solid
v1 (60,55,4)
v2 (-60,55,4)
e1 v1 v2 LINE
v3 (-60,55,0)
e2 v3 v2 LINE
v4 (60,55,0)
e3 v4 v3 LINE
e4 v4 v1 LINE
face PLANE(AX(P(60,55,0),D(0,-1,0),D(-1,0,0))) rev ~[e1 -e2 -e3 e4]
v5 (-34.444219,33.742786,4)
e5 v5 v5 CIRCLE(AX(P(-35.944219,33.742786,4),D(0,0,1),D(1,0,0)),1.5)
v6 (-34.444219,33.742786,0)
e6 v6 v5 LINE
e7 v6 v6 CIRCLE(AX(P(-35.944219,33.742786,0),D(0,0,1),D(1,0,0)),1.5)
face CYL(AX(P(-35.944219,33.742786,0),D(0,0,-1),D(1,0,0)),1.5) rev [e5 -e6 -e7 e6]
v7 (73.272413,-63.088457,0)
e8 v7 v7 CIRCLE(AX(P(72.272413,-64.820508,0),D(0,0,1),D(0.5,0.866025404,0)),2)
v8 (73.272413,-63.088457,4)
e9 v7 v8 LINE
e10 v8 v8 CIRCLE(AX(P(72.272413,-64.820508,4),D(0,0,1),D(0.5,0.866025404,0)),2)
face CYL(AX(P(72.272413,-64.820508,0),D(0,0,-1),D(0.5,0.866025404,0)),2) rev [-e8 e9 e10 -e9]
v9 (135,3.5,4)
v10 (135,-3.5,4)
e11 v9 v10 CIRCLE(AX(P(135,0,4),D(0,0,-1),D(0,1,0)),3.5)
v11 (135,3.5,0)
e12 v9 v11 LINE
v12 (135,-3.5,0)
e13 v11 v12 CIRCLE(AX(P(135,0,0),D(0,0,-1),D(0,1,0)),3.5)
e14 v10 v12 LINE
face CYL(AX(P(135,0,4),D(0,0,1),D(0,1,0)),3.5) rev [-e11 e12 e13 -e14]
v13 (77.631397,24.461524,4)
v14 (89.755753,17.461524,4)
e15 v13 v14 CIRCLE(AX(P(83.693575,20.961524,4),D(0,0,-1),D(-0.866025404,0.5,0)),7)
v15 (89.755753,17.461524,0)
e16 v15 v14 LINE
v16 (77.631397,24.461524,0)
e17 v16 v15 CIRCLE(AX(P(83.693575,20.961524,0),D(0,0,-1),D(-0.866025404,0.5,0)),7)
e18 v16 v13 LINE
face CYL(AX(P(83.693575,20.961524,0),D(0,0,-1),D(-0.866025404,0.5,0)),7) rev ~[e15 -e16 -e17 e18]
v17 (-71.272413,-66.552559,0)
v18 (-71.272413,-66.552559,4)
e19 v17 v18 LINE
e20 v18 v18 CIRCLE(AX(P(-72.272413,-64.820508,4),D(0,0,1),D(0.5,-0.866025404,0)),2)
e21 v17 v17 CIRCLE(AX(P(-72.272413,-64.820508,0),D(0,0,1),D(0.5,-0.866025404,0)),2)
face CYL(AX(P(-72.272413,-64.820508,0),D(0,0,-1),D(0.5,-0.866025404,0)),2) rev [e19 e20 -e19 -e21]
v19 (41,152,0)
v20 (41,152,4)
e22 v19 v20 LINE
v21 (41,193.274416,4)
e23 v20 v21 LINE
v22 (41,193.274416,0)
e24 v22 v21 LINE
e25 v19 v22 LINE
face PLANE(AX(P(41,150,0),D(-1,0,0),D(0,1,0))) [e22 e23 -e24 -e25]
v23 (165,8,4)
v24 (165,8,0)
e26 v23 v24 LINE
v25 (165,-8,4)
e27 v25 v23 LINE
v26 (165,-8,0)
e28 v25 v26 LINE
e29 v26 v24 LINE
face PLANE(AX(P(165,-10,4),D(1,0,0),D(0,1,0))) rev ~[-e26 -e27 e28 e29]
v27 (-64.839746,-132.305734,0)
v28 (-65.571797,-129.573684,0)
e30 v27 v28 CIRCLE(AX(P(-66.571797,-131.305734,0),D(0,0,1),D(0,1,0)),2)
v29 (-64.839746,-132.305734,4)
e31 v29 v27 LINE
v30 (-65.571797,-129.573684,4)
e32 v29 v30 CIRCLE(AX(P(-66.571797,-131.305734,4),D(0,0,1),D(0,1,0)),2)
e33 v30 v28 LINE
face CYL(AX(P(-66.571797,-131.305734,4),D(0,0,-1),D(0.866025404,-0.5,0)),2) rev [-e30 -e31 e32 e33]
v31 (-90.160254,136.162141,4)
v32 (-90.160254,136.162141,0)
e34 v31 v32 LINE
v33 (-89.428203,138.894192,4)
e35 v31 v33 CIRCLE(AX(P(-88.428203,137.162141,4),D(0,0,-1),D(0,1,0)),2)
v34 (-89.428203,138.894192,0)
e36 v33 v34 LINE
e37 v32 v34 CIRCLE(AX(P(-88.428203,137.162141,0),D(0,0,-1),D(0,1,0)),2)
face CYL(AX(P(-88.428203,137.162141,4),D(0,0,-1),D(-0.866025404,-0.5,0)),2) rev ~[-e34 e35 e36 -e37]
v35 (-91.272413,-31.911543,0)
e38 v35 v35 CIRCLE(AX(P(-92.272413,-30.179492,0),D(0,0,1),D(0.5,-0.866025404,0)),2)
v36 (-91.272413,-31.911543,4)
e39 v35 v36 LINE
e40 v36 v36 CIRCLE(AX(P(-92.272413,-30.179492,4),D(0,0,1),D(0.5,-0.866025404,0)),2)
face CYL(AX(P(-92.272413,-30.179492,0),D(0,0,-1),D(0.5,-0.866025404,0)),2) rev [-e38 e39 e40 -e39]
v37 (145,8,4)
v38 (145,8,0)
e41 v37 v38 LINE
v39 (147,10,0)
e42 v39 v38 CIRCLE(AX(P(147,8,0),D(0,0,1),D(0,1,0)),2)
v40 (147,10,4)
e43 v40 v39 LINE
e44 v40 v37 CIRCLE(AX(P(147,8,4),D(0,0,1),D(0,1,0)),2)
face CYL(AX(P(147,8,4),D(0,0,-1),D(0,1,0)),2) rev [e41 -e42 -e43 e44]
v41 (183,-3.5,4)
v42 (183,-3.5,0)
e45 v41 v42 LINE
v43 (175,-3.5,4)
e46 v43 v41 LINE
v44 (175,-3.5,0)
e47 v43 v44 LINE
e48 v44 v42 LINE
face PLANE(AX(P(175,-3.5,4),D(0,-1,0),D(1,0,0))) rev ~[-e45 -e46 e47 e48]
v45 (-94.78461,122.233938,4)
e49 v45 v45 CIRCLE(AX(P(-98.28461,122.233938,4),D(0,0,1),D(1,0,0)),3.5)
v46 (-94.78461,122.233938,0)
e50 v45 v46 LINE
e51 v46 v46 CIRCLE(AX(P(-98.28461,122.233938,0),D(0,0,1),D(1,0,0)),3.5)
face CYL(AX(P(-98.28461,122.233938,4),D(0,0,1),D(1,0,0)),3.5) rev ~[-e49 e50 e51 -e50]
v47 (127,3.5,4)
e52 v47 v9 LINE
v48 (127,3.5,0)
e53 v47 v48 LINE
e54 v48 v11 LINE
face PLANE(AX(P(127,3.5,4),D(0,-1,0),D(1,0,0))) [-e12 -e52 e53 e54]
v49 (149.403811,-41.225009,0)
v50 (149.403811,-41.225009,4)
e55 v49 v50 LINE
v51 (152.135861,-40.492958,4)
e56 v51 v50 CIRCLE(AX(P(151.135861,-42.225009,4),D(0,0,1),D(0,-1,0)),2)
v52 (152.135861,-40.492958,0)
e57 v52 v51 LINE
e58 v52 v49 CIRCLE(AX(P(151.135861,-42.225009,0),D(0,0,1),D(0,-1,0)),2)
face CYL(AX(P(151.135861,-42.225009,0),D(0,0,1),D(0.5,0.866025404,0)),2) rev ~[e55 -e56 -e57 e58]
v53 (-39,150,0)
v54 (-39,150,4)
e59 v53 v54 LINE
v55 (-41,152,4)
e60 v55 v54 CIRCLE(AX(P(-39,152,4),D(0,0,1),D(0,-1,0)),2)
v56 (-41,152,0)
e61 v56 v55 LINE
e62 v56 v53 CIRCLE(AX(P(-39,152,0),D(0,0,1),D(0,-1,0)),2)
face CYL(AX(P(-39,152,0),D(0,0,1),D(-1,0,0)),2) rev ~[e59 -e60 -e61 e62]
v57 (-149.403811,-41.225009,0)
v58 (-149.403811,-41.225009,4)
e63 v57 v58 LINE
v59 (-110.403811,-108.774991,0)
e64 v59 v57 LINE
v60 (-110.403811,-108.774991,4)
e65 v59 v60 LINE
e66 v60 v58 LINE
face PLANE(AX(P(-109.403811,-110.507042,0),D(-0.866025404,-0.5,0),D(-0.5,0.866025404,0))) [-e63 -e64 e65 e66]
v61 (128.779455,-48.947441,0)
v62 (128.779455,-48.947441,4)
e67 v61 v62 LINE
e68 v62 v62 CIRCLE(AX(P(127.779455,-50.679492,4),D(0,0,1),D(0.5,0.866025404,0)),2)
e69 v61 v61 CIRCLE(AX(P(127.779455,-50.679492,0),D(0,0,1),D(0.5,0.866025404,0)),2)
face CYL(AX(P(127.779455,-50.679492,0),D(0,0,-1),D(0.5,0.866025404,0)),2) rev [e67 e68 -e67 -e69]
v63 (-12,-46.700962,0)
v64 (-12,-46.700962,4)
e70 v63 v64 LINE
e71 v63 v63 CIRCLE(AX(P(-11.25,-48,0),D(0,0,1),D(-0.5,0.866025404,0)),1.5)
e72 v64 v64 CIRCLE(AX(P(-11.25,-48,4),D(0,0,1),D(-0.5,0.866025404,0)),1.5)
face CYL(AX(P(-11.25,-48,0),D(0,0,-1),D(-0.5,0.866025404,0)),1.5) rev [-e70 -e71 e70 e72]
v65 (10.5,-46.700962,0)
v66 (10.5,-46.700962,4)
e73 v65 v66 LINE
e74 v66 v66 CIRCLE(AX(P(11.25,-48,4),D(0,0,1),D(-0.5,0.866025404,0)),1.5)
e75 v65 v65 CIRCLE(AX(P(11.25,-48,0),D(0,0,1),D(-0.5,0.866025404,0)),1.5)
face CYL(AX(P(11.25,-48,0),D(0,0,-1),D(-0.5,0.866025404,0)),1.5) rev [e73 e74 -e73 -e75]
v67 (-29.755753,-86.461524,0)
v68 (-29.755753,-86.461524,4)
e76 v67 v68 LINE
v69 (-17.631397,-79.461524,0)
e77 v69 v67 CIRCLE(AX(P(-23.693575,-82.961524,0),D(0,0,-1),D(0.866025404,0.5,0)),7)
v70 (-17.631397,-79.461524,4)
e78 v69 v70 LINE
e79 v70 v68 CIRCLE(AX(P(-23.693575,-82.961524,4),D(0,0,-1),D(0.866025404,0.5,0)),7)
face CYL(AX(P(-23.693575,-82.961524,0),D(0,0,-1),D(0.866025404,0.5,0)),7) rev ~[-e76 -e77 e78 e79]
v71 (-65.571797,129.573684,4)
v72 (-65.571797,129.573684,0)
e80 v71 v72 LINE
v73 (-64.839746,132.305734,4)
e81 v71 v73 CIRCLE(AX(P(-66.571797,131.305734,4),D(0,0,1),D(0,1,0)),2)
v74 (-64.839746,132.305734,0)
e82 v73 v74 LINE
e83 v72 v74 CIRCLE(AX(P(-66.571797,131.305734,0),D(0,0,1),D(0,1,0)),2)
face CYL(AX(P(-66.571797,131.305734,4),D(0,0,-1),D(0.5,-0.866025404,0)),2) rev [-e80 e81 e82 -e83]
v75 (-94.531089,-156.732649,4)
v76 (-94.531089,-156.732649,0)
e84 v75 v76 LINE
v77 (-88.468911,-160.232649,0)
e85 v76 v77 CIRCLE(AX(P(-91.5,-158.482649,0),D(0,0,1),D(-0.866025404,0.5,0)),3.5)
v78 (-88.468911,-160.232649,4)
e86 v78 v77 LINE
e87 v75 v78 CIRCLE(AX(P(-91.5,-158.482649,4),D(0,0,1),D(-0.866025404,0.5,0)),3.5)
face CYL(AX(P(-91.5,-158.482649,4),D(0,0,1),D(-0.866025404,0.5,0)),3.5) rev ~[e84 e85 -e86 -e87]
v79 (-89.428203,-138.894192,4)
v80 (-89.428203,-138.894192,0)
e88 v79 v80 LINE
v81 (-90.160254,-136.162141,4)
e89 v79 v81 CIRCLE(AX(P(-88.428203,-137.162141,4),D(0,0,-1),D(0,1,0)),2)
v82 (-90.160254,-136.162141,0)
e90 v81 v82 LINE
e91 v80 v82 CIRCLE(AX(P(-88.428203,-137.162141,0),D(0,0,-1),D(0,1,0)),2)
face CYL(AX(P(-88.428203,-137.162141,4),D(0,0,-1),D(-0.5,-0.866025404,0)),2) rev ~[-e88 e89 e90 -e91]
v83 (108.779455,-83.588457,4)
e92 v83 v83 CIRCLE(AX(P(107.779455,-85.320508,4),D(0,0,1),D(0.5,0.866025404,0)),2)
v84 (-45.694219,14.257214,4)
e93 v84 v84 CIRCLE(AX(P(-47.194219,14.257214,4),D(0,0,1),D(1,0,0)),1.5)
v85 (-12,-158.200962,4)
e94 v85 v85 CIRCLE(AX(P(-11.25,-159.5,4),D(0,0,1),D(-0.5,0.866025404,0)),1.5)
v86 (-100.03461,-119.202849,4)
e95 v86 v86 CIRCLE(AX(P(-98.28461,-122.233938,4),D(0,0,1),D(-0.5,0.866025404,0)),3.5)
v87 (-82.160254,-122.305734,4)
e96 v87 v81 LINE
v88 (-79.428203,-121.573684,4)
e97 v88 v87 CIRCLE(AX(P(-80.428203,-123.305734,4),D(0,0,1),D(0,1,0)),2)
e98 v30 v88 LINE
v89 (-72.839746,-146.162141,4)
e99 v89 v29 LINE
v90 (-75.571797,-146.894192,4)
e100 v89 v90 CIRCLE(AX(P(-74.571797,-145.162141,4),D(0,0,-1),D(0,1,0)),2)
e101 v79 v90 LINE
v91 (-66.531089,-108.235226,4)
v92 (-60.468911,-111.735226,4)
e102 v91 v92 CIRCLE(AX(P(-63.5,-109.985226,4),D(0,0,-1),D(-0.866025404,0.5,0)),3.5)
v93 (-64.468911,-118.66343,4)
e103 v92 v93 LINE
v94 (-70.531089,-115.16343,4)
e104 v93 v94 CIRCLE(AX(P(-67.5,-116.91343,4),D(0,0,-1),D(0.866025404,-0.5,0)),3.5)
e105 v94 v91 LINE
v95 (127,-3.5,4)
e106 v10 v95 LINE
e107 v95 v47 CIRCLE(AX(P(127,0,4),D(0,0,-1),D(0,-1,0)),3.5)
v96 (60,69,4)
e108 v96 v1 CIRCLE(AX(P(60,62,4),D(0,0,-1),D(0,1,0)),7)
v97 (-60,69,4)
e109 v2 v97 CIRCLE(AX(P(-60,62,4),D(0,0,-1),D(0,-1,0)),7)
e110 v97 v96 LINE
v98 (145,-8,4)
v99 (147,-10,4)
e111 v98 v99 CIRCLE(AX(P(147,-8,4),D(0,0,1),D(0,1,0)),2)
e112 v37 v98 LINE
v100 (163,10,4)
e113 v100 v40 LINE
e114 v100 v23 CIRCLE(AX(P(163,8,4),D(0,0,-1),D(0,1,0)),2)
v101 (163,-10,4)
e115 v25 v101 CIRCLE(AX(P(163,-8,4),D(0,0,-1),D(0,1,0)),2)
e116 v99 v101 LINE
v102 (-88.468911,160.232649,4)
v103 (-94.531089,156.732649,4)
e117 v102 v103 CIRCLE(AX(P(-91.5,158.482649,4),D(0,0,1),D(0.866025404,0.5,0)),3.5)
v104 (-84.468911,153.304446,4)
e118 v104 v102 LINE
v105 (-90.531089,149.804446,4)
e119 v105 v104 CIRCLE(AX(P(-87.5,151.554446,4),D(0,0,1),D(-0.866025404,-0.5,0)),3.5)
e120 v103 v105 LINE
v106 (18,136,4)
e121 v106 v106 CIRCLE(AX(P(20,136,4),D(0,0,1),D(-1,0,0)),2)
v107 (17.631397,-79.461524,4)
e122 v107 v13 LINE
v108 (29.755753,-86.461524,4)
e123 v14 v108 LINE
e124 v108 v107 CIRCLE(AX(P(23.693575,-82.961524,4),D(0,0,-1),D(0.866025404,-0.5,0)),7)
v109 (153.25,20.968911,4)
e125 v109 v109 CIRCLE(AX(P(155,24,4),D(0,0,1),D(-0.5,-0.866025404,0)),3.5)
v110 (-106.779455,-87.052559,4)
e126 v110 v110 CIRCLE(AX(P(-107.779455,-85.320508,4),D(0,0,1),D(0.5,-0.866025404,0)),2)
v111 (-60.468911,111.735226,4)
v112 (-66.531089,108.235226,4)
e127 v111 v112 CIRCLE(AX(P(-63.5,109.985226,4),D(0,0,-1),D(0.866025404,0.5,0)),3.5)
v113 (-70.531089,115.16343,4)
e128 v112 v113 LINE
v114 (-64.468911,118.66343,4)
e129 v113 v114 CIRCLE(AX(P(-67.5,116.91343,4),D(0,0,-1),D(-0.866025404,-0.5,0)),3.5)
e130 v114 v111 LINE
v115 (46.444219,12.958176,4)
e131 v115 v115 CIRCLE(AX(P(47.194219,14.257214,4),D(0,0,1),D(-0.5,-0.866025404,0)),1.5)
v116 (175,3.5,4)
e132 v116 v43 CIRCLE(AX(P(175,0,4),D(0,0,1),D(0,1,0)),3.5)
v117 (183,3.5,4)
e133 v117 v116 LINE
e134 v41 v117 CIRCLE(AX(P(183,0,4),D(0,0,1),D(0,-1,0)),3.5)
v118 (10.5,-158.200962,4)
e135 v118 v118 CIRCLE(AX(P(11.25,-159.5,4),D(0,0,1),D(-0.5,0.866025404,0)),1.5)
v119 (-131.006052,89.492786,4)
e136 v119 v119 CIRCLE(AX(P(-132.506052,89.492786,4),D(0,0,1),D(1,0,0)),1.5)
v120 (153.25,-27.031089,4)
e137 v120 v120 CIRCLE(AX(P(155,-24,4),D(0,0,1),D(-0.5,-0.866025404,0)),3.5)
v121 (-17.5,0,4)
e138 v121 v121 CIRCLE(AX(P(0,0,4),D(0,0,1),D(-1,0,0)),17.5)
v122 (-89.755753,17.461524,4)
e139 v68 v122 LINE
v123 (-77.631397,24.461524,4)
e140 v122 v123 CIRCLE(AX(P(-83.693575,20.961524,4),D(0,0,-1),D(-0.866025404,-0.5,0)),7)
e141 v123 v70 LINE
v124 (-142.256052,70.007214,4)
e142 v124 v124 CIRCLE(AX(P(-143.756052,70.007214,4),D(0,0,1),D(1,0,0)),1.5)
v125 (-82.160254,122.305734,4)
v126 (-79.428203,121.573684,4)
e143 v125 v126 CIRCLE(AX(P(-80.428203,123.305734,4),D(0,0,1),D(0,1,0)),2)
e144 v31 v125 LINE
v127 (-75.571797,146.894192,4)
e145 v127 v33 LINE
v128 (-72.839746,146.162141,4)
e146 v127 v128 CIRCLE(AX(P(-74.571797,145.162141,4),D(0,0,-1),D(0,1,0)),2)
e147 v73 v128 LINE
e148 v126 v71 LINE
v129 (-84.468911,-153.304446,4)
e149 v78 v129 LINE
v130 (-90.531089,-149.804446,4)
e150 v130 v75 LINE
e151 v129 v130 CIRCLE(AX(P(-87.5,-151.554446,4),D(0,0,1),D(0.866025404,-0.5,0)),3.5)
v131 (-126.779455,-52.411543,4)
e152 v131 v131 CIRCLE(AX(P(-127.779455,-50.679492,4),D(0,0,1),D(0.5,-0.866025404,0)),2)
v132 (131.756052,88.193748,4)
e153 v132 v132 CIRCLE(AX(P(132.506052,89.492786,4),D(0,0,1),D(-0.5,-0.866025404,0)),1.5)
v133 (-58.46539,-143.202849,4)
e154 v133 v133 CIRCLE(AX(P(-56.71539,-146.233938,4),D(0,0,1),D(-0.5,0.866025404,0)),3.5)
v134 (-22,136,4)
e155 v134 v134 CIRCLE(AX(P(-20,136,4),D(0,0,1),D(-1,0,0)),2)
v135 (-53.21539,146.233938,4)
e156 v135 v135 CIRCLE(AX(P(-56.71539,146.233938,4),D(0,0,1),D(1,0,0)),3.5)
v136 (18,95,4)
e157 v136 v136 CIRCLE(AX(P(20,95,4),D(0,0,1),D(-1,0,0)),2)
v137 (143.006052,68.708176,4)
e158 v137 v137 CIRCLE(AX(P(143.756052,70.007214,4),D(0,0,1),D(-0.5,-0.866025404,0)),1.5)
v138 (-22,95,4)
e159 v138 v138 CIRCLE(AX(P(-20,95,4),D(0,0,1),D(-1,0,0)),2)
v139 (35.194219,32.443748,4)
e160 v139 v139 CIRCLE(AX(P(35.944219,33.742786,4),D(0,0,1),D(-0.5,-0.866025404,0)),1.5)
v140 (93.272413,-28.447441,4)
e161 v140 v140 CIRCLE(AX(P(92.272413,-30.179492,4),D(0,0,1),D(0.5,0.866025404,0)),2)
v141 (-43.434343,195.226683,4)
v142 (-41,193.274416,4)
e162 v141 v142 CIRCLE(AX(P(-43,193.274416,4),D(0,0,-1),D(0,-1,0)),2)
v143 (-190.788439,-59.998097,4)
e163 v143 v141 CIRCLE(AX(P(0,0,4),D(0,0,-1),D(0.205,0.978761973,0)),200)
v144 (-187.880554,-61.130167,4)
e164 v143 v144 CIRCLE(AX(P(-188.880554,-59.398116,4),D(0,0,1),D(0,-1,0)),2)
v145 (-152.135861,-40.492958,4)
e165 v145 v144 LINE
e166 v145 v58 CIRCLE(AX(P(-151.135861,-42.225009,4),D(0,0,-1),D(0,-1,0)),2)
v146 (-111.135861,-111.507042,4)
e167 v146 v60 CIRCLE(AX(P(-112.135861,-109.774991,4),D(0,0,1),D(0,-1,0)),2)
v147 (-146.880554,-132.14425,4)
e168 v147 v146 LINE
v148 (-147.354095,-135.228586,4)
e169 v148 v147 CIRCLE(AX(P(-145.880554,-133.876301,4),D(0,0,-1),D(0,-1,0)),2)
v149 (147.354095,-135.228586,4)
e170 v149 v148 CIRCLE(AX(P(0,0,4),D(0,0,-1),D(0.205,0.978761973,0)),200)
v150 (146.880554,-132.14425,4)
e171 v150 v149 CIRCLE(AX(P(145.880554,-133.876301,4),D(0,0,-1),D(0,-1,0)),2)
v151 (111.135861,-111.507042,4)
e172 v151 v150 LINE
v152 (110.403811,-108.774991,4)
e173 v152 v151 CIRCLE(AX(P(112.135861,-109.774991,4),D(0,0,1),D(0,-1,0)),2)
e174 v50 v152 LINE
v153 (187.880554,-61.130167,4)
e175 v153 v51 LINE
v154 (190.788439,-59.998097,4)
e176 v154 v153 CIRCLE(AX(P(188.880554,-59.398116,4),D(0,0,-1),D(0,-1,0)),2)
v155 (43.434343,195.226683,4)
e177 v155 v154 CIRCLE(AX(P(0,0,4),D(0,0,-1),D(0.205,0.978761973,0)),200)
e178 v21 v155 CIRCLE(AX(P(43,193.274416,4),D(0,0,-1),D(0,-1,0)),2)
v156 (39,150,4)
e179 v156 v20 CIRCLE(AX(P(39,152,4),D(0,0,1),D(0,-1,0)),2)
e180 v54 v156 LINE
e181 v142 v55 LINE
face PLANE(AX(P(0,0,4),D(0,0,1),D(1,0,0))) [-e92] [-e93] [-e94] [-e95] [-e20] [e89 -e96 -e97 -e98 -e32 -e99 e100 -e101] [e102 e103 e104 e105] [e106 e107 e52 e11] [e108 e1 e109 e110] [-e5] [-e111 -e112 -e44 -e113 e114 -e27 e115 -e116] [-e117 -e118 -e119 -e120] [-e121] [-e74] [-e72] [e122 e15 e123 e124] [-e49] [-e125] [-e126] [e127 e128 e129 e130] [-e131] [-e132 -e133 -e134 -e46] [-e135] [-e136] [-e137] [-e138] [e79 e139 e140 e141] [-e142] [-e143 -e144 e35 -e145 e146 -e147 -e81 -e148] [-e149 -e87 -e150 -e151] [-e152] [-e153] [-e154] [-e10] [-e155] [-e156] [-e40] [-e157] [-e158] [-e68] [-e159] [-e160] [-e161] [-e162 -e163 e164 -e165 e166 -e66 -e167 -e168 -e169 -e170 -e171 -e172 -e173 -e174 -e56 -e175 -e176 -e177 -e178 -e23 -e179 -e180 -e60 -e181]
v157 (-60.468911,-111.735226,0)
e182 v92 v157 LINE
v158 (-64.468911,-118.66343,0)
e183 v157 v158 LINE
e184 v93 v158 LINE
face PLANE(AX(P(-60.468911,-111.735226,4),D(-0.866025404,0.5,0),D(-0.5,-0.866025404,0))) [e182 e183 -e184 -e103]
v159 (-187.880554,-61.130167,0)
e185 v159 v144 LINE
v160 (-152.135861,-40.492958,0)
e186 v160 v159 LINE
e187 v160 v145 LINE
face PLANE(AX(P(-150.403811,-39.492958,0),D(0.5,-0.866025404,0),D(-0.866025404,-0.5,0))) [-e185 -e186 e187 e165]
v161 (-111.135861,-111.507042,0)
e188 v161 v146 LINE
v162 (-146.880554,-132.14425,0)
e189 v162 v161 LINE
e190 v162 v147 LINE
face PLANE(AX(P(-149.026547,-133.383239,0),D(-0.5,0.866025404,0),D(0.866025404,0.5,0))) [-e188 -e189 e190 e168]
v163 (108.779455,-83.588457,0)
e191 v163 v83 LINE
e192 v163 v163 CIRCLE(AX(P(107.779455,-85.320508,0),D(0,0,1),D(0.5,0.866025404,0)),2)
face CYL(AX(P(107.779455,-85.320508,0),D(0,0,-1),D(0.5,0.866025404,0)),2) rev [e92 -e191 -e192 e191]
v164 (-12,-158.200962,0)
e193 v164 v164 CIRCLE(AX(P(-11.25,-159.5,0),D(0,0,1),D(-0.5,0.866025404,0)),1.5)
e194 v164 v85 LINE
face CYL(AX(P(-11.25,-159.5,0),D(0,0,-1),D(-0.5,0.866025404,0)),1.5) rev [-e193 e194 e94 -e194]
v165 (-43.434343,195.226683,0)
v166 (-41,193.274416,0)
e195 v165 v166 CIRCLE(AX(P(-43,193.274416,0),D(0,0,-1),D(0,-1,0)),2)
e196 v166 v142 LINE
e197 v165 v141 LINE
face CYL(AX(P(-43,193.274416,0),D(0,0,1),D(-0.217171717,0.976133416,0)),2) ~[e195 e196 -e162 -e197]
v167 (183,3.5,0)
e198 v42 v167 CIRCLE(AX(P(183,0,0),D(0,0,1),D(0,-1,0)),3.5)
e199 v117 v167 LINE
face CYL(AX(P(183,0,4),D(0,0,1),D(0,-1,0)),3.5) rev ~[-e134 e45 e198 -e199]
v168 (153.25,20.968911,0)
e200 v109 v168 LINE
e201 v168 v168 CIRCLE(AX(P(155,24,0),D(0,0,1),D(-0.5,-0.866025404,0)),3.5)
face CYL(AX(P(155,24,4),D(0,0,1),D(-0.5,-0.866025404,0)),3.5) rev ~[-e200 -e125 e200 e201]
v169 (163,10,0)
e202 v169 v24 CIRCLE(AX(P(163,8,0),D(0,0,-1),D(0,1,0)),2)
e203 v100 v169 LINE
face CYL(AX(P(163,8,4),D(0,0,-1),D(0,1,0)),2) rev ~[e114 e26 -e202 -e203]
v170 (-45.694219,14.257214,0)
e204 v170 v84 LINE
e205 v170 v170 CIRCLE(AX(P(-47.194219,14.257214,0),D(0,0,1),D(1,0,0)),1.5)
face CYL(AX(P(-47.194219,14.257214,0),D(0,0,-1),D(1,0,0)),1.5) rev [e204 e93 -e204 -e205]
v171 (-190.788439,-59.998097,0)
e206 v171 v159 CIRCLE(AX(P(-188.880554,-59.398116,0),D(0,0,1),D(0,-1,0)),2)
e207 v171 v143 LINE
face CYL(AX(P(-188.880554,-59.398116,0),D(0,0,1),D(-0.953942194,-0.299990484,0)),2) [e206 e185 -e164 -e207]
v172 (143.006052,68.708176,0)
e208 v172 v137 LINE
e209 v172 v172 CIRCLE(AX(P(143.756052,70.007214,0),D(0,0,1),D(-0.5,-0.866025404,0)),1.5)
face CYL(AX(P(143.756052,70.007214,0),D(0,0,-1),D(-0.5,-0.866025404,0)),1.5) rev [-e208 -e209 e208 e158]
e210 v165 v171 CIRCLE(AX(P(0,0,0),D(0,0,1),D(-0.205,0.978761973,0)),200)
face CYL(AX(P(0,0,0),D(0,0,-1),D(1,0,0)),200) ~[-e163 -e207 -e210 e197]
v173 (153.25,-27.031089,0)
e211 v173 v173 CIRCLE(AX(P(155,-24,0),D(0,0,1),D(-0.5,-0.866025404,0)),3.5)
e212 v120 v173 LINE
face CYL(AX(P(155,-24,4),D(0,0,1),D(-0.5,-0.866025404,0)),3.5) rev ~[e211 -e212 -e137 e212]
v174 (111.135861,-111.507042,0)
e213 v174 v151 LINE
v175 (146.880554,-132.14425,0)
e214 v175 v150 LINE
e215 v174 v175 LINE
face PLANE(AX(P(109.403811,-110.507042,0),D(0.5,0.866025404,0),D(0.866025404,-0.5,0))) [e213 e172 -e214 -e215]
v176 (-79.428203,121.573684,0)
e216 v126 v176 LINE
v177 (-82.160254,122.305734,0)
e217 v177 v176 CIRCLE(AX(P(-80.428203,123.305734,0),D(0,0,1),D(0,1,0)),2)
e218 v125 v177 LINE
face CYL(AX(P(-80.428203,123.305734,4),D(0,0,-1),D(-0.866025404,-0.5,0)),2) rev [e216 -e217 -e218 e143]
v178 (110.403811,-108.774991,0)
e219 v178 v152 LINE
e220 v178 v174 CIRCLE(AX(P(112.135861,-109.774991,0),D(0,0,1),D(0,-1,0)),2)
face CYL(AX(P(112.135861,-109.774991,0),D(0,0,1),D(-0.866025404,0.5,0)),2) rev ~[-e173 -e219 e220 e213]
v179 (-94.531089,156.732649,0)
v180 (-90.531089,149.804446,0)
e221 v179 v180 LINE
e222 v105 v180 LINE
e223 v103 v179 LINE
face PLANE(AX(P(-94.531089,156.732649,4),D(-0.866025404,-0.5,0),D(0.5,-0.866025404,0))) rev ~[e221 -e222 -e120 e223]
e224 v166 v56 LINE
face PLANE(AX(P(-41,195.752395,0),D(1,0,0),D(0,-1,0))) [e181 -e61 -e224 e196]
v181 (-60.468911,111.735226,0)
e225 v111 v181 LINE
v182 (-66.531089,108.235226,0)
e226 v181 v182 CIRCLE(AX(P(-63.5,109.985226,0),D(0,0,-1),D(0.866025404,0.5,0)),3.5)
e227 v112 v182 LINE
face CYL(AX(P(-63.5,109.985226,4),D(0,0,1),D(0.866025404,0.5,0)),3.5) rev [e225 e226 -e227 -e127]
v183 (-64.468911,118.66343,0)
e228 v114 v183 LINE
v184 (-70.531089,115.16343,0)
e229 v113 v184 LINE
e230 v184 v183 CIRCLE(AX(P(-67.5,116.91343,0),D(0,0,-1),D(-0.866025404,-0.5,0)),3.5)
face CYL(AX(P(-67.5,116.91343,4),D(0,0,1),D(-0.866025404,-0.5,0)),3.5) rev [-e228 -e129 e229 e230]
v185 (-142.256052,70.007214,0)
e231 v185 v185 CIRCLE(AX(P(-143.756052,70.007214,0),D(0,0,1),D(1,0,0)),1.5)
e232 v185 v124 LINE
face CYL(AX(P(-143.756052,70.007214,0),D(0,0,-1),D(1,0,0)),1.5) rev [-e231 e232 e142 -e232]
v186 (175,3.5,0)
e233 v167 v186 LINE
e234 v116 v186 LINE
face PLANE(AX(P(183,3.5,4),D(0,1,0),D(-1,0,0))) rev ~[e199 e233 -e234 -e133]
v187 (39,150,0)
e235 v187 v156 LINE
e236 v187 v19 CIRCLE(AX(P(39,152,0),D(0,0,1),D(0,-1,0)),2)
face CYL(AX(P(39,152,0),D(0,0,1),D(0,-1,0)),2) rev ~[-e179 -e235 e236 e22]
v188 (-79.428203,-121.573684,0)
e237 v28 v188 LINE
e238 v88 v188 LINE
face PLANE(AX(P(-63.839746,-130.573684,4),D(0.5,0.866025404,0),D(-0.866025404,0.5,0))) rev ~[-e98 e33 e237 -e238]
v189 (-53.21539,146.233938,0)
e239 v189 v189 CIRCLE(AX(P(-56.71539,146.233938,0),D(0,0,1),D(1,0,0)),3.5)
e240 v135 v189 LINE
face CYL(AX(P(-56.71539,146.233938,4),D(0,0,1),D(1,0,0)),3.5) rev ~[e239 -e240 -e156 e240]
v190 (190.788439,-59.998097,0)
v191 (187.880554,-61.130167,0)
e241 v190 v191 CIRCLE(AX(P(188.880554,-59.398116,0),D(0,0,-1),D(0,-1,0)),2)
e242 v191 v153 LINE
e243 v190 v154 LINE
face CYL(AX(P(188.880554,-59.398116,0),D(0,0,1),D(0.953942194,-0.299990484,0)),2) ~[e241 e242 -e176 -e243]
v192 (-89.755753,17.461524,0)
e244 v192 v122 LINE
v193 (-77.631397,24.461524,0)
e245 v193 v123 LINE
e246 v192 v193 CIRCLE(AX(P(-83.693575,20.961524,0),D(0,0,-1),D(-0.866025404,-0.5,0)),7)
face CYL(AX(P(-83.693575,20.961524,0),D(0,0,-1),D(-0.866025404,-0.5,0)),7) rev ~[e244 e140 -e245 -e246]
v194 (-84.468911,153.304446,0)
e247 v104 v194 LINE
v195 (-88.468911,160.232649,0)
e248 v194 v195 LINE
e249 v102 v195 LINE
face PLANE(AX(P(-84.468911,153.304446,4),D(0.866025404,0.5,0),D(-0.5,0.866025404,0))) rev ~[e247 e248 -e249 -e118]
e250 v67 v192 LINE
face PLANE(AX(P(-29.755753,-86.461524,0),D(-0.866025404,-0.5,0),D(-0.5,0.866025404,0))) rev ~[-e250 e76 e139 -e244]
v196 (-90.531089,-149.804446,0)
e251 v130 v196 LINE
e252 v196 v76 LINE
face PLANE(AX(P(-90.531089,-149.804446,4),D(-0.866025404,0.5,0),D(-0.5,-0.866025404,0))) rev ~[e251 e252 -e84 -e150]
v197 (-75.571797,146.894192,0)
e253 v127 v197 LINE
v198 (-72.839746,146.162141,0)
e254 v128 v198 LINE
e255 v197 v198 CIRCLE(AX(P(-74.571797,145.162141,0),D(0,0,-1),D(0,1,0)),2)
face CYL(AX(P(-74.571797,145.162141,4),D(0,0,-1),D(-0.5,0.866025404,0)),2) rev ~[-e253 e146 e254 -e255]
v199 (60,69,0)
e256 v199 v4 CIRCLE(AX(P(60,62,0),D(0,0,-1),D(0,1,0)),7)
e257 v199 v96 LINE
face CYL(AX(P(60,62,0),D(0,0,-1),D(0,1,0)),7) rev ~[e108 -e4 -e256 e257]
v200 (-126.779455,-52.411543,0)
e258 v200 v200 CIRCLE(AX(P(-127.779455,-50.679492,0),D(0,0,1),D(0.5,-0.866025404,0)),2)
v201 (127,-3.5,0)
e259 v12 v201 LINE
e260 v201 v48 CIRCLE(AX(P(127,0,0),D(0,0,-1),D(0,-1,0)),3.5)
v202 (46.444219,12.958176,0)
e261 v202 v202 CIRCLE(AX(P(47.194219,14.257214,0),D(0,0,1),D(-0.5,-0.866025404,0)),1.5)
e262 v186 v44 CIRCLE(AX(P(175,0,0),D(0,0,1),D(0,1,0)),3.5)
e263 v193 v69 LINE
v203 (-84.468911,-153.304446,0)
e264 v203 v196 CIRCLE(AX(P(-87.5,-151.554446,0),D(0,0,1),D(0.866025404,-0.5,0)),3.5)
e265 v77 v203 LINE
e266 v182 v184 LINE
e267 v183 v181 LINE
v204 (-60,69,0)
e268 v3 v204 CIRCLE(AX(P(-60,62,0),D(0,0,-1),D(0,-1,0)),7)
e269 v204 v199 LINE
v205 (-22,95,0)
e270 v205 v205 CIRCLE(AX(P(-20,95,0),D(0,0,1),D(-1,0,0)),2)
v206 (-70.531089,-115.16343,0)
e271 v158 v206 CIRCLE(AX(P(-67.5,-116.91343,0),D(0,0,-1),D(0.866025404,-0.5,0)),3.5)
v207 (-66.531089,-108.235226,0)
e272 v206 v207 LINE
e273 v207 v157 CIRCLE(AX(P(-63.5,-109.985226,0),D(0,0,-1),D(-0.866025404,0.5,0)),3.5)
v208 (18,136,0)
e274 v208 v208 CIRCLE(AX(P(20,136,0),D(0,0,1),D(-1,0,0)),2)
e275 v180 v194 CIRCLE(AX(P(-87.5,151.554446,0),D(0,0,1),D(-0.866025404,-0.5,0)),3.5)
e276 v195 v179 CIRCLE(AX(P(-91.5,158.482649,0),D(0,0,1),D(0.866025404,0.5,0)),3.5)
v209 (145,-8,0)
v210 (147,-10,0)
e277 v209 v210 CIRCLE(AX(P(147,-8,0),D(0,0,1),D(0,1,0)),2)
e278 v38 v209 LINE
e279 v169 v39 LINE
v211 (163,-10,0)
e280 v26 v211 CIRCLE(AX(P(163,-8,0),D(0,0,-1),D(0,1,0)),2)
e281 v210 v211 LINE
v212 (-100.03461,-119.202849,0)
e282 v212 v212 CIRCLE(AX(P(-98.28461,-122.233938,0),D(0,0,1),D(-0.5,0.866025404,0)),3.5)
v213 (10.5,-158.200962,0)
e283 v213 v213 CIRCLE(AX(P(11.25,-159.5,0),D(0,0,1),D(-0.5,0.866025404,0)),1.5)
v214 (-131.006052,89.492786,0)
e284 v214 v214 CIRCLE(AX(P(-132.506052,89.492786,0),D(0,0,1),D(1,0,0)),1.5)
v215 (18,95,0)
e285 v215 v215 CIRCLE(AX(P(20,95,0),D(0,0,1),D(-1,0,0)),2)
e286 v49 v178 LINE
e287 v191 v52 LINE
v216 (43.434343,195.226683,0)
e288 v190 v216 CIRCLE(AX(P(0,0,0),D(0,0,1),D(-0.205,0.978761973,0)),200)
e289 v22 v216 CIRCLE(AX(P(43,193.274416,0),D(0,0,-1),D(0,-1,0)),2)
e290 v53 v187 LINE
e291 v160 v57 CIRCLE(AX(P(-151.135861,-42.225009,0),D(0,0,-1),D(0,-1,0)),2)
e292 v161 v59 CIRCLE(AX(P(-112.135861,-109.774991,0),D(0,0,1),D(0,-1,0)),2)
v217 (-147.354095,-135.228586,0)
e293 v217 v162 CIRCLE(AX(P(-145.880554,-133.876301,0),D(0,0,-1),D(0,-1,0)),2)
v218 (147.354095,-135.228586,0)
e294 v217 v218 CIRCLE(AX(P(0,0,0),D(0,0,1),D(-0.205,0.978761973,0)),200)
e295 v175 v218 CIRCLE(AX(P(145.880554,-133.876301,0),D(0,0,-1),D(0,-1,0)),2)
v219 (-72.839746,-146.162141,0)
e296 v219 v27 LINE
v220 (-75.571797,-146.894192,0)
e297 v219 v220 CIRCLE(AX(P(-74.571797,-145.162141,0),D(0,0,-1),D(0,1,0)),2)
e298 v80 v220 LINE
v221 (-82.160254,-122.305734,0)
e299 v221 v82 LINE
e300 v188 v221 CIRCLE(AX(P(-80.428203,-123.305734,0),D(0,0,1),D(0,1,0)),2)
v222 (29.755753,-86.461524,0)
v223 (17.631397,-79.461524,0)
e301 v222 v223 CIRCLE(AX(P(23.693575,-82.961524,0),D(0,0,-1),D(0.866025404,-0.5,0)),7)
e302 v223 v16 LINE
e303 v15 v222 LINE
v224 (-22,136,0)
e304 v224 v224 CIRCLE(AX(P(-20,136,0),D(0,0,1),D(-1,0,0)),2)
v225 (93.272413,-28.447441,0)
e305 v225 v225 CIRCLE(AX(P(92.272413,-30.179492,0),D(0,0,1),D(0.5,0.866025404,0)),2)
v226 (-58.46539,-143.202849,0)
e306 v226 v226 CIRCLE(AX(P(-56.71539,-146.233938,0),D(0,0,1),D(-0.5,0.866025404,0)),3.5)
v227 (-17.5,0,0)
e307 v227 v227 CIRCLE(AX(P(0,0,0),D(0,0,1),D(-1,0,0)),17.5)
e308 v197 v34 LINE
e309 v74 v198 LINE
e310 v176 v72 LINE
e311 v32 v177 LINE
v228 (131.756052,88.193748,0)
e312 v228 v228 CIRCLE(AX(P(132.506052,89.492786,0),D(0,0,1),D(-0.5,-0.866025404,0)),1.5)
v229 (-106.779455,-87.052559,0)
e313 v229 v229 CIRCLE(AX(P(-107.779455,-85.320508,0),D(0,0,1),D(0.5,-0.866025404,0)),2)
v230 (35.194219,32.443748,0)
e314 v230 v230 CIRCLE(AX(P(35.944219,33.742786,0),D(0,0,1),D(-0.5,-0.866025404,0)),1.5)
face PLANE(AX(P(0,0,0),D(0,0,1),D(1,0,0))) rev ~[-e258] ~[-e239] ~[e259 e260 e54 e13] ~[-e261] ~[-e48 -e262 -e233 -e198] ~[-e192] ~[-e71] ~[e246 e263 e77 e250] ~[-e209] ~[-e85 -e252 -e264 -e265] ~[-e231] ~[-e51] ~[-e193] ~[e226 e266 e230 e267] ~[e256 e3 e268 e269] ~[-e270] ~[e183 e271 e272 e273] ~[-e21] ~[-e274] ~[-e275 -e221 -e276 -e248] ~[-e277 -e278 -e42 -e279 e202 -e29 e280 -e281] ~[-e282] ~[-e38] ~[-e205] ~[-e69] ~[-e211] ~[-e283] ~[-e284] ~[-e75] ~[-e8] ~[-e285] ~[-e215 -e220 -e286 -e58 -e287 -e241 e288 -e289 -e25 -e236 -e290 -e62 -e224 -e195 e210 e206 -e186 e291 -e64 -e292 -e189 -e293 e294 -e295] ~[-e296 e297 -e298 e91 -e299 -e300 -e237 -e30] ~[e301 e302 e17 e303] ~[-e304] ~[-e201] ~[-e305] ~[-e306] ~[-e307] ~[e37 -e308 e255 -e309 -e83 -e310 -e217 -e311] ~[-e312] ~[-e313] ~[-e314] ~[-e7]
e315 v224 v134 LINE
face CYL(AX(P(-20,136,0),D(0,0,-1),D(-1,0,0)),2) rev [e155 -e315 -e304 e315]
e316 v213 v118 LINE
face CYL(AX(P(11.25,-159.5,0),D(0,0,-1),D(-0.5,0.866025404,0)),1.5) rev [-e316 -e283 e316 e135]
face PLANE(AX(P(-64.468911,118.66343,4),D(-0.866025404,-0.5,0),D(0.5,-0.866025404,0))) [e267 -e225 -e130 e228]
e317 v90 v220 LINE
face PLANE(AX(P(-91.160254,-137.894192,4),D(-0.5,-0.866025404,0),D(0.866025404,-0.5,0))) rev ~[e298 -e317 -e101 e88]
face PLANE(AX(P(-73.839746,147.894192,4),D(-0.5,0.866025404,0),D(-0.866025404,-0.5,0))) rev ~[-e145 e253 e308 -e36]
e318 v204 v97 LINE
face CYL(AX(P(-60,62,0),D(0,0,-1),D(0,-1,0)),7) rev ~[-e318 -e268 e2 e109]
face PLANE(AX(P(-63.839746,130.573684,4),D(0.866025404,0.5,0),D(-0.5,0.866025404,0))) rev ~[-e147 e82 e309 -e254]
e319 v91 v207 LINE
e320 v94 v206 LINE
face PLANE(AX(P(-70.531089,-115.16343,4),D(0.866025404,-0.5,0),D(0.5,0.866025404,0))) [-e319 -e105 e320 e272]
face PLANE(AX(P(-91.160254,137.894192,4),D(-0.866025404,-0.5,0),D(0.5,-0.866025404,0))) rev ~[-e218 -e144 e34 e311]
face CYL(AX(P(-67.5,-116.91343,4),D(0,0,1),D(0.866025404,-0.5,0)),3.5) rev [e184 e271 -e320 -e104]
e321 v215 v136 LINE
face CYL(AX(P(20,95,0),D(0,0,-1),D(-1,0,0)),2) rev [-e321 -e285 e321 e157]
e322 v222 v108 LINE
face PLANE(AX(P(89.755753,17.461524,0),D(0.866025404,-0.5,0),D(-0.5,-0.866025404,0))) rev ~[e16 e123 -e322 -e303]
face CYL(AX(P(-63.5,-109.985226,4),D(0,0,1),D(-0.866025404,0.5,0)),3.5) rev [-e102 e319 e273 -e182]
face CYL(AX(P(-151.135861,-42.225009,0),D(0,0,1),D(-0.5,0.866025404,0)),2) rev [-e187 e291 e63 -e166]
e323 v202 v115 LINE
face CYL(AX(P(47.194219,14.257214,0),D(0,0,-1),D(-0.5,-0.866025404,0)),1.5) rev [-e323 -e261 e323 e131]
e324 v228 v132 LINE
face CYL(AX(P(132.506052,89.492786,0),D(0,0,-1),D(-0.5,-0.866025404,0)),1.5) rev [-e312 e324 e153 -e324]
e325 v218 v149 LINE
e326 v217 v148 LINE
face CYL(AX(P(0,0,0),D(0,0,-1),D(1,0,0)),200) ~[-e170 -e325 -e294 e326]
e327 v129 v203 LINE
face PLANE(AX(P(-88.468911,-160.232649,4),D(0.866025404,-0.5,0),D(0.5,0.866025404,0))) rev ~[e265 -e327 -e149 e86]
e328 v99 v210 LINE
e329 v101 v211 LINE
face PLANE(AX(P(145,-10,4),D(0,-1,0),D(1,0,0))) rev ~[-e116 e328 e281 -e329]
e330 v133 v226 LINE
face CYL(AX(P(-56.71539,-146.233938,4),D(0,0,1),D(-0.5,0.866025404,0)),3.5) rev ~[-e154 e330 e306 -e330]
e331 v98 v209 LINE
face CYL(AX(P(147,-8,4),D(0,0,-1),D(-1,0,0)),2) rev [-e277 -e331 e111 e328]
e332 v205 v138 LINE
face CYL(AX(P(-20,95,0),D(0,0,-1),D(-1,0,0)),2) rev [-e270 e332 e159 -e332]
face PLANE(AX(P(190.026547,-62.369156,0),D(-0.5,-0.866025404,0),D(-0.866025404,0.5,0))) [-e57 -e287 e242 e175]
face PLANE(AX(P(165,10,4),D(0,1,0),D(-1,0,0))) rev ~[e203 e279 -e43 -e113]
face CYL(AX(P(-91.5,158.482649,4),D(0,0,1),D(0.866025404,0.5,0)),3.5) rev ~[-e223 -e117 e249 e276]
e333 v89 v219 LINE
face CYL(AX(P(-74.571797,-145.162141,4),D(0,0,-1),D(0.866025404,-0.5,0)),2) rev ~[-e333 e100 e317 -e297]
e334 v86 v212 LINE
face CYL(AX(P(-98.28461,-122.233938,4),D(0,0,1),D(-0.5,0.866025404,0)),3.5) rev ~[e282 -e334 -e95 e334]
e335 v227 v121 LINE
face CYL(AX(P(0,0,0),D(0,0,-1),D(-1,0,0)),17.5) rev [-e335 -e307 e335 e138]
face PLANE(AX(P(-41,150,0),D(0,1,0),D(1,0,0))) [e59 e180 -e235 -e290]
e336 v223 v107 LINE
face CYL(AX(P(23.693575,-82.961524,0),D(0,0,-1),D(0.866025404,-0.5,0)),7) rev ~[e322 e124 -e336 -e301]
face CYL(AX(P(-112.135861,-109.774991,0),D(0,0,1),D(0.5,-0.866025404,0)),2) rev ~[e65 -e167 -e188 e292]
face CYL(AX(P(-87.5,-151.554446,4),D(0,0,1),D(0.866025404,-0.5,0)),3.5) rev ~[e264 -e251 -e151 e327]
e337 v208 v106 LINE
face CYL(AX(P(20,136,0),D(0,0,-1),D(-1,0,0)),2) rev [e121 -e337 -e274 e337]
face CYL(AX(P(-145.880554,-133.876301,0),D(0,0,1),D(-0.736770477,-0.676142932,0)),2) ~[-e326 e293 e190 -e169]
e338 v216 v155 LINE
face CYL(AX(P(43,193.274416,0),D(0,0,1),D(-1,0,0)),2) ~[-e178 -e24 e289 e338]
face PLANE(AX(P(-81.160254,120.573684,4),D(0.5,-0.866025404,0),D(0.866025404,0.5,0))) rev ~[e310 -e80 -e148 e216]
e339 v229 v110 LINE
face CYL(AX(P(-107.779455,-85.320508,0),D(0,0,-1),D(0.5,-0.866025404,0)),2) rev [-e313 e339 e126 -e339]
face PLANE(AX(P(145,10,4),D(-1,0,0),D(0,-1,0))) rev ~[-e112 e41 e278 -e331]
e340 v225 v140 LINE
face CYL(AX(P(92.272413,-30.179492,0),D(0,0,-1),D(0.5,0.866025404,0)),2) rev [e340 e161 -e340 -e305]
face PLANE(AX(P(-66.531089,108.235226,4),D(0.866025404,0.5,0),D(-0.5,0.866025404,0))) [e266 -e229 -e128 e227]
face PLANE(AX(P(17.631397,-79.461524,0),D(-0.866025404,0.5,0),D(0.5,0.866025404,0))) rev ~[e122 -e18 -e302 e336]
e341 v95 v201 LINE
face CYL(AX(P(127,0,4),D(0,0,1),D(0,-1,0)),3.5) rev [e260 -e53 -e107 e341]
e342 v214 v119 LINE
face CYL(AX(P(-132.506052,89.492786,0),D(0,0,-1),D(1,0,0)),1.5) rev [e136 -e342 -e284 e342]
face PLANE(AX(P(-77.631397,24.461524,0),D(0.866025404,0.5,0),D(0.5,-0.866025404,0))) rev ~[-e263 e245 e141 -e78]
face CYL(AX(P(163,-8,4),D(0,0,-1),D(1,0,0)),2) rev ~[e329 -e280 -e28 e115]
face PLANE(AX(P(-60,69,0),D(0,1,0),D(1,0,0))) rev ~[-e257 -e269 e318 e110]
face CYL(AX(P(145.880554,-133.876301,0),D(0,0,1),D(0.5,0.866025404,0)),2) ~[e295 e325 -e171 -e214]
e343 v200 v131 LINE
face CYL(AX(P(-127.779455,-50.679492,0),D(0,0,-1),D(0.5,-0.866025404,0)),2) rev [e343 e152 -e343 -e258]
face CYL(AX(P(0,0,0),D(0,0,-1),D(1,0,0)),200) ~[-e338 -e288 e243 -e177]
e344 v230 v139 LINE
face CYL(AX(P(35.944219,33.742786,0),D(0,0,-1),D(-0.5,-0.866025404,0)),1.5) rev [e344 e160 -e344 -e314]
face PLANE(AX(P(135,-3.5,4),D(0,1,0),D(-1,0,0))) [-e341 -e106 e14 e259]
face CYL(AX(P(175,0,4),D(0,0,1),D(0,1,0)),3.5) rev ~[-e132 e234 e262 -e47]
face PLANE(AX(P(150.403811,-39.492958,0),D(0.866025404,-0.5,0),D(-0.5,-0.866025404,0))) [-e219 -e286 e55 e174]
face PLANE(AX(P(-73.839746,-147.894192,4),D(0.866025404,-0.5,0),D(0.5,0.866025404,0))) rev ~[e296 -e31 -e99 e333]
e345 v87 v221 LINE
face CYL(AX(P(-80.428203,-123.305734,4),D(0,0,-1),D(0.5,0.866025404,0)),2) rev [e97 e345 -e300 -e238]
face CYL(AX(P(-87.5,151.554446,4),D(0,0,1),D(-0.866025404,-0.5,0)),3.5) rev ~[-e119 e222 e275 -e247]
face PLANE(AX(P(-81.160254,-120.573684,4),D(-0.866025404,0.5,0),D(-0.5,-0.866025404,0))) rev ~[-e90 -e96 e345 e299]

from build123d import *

# Parameters (mm, degrees)
SKETCH1_R           = 200
BOSS_EXTRUDE2_DEPTH = 4
CUT_EXTRUDE3_DEPTH  = 4
SKETCH4_R           = 17.500000000000004
CUT_EXTRUDE4_DEPTH  = 4
SKETCH5_R           = 2
CUT_EXTRUDE5_DEPTH  = 4
SKETCH6_R           = 1.4999999999999973
SKETCH6_R_2         = 1.5000000000000042
CUT_EXTRUDE6_DEPTH  = 4
CIRPATTERN2_COUNT   = 3
CIRPATTERN3_COUNT   = 3
CUT_EXTRUDE7_DEPTH  = 4
CIRPATTERN4_COUNT   = 3
SKETCH9_R           = 3.500000000000001
SKETCH9_R_2         = 3.5000000000000075
CUT_EXTRUDE8_DEPTH  = 4
CIRPATTERN5_COUNT   = 3
CIRPATTERN6_COUNT   = 3
FILLET1_R           = 2
FILLET2_R           = 2


with BuildPart() as part:
    # Sketch1 → Boss-Extrude2 (new body)
    with BuildSketch(Plane.XY):
        Circle(SKETCH1_R)
    extrude(amount=BOSS_EXTRUDE2_DEPTH)

    # Sketch3 → Cut-Extrude3 (cut)
    with BuildSketch(Plane.XY):
        with BuildLine():
            Line((-41.00000000000001, 195.75239462136855), (-41, 150.00000000000003))
            Line((-41, 150.00000000000003), (41, 150.00000000000003))
            Line((41, 150.00000000000003), (41.00000000000001, 195.75239462136855))
            ThreePointArc((41.00000000000001, 195.75239462136855), (1.225e-14, 200), (-41.00000000000001, 195.75239462136855))
        make_face()
    cut_extrude3 = extrude(amount=CUT_EXTRUDE3_DEPTH, mode=Mode.SUBTRACT)

    # Sketch4 → Cut-Extrude4 (cut)
    with BuildSketch(Plane.XY):
        with Locations(Location((0, 0, 0), (0, 0, 180))):
            Circle(SKETCH4_R)
    extrude(amount=CUT_EXTRUDE4_DEPTH, mode=Mode.SUBTRACT)

    # Sketch5 → Cut-Extrude5 (cut)
    with BuildSketch(Plane.XY):
        with Locations(Location((-20, 136, 0), (0, 0, 180))):
            Circle(SKETCH5_R)
        with Locations(Location((-20, 95, 0), (0, 0, 180))):
            Circle(SKETCH5_R)
        with Locations(Location((20, 136, 0), (0, 0, 180))):
            Circle(SKETCH5_R)
        with Locations(Location((20, 95, 0), (0, 0, 180))):
            Circle(SKETCH5_R)
    cut_extrude5 = extrude(amount=CUT_EXTRUDE5_DEPTH, mode=Mode.SUBTRACT)

    # Sketch6 → Cut-Extrude6 (cut)
    with BuildSketch(Plane.XY):
        with Locations((-143.75605190361796, 70.00721420742511)):
            Circle(SKETCH6_R)
        with Locations((-132.50605190361796, 89.49278579257494)):
            Circle(SKETCH6_R)
        with Locations((-35.94421938165304, 33.742785792574935)):
            Circle(SKETCH6_R_2)
        with Locations((-47.19421938165304, 14.257214207425067)):
            Circle(SKETCH6_R_2)
    cut_extrude6 = extrude(amount=CUT_EXTRUDE6_DEPTH, mode=Mode.SUBTRACT)

    # CirPattern2: Cut-Extrude6 ×3 about axis
    cirpattern2_axis = Axis((9.38e-15, 1.23e-15, 0), (0, 0, 1))
    for i in range(1, CIRPATTERN2_COUNT):
        add(cut_extrude6.rotate(cirpattern2_axis, i * 360 / CIRPATTERN2_COUNT), mode=Mode.SUBTRACT)

    # CirPattern3: Cut-Extrude5 ×3 about axis
    cirpattern3_axis = Axis((6.55e-15, -6.68e-15, 0), (0, 0, 1))
    for i in range(1, CIRPATTERN3_COUNT):
        add(cut_extrude5.rotate(cirpattern3_axis, i * 360 / CIRPATTERN3_COUNT), mode=Mode.SUBTRACT)

    # Sketch8 → Cut-Extrude7 (cut)
    with BuildSketch(Plane.XY):
        with BuildLine():
            Line((-60, 69), (60, 69.00000000000003))
            ThreePointArc((60, 69.00000000000003), (66.99999999999997, 62), (60, 55.00000000000002))
            Line((60, 55.00000000000002), (-60, 55))
            ThreePointArc((-60, 55), (-67, 62), (-60, 69))
        make_face()
    cut_extrude7 = extrude(amount=CUT_EXTRUDE7_DEPTH, mode=Mode.SUBTRACT)

    # CirPattern4: Cut-Extrude7 ×3 about axis
    cirpattern4_axis = Axis((2.08e-15, -4.82e-15, 0), (0, 0, 1))
    for i in range(1, CIRPATTERN4_COUNT):
        add(cut_extrude7.rotate(cirpattern4_axis, i * 360 / CIRPATTERN4_COUNT), mode=Mode.SUBTRACT)

    # Sketch9 → Cut-Extrude8 (cut)
    with BuildSketch(Plane.XY.offset(4)):
        with Locations((-56.71539030917355, 146.233937586588)):
            Circle(SKETCH9_R)
        with Locations((-98.28460969082658, 122.23393758658793)):
            Circle(SKETCH9_R_2)
        Polygon((-91.16025403784447, 137.89419162443235), (-81.16025403784445, 120.57368354874356), (-63.83974596215569, 130.57368354874362), (-73.8397459621557, 147.89419162443235), align=None)
        with BuildLine():
            Line((-64.46891108675452, 118.66342951089922), (-60.46891108675456, 111.73522628062365))
            ThreePointArc((-60.46891108675456, 111.73522628062365), (-61.75000000000001, 106.9541373673781), (-66.53108891324563, 108.23522628062368))
            Line((-66.53108891324563, 108.23522628062368), (-70.53108891324557, 115.1634295108992))
            ThreePointArc((-70.53108891324557, 115.1634295108992), (-69.25000000000003, 119.94451842414472), (-64.46891108675452, 118.66342951089922))
        make_face()
        with BuildLine():
            Line((-84.46891108675456, 153.30444566227675), (-88.46891108675459, 160.23264889255222))
            ThreePointArc((-88.46891108675459, 160.23264889255222), (-93.25000000000009, 161.5137378057978), (-94.53108891324563, 156.73264889255222))
            Line((-94.53108891324563, 156.73264889255222), (-90.53108891324563, 149.80444566227675))
            ThreePointArc((-90.53108891324563, 149.80444566227675), (-85.7500000000001, 148.52335674903122), (-84.46891108675456, 153.30444566227675))
        make_face()
    cut_extrude8 = extrude(amount=-CUT_EXTRUDE8_DEPTH, mode=Mode.SUBTRACT)

    # CirPattern5: Cut-Extrude8 ×3 about axis
    cirpattern5_axis = Axis((6.83e-15, -3.41e-15, 0), (0, 0, 1))
    for i in range(1, CIRPATTERN5_COUNT):
        add(cut_extrude8.rotate(cirpattern5_axis, i * 360 / CIRPATTERN5_COUNT), mode=Mode.SUBTRACT)

    # CirPattern6: Cut-Extrude3 ×3 about axis
    cirpattern6_axis = Axis((-9.9e-16, -1.19e-14, 0), (0, 0, 1))
    for i in range(1, CIRPATTERN6_COUNT):
        add(cut_extrude3.rotate(cirpattern6_axis, i * 360 / CIRPATTERN6_COUNT), mode=Mode.SUBTRACT)

    # Fillet1
    fillet1_edges = [part.edges().sort_by_distance(p)[0] for p in [
        (41.00000000000001, 195.75239462136855, 2),
        (-41.00000000000001, 195.75239462136855, 2),
        (-41, 150.00000000000003, 2),
        (41, 150.00000000000003, 2),
        (149.0265465937414, -133.38323886584638, 2),
        (190.02654659374144, -62.36915575552241, 2),
        (150.4038105676658, -39.49295844483813, 2),
        (109.40381056766577, -110.50704155516208, 2),
        (-190.0265465937415, -62.36915575552226, 2),
        (-149.0265465937415, -133.38323886584627, 2),
        (-109.40381056766586, -110.50704155516199, 2),
        (-150.40381056766583, -39.49295844483801, 2),
    ]]
    fillet(fillet1_edges, radius=FILLET1_R)

    # Fillet2
    fillet2_edges = [part.edges().sort_by_distance(p)[0] for p in [
        (-91.16025403784447, 137.89419162443235, 2),
        (-73.8397459621557, 147.89419162443235, 2),
        (-63.83974596215569, 130.57368354874362, 2),
        (-81.16025403784445, 120.57368354874356, 2),
        (-73.83974596215556, -147.8941916244324, 2),
        (-91.16025403784433, -137.8941916244324, 2),
        (-81.16025403784437, -120.57368354874366, 2),
        (-63.83974596215556, -130.57368354874362, 2),
        (165.00000000000003, 10, 2),
        (165, -10, 2),
        (145.00000000000006, -10.000000000000014, 2),
        (145, 10, 2),
    ]]
    fillet(fillet2_edges, radius=FILLET2_R)


solid = part.part
